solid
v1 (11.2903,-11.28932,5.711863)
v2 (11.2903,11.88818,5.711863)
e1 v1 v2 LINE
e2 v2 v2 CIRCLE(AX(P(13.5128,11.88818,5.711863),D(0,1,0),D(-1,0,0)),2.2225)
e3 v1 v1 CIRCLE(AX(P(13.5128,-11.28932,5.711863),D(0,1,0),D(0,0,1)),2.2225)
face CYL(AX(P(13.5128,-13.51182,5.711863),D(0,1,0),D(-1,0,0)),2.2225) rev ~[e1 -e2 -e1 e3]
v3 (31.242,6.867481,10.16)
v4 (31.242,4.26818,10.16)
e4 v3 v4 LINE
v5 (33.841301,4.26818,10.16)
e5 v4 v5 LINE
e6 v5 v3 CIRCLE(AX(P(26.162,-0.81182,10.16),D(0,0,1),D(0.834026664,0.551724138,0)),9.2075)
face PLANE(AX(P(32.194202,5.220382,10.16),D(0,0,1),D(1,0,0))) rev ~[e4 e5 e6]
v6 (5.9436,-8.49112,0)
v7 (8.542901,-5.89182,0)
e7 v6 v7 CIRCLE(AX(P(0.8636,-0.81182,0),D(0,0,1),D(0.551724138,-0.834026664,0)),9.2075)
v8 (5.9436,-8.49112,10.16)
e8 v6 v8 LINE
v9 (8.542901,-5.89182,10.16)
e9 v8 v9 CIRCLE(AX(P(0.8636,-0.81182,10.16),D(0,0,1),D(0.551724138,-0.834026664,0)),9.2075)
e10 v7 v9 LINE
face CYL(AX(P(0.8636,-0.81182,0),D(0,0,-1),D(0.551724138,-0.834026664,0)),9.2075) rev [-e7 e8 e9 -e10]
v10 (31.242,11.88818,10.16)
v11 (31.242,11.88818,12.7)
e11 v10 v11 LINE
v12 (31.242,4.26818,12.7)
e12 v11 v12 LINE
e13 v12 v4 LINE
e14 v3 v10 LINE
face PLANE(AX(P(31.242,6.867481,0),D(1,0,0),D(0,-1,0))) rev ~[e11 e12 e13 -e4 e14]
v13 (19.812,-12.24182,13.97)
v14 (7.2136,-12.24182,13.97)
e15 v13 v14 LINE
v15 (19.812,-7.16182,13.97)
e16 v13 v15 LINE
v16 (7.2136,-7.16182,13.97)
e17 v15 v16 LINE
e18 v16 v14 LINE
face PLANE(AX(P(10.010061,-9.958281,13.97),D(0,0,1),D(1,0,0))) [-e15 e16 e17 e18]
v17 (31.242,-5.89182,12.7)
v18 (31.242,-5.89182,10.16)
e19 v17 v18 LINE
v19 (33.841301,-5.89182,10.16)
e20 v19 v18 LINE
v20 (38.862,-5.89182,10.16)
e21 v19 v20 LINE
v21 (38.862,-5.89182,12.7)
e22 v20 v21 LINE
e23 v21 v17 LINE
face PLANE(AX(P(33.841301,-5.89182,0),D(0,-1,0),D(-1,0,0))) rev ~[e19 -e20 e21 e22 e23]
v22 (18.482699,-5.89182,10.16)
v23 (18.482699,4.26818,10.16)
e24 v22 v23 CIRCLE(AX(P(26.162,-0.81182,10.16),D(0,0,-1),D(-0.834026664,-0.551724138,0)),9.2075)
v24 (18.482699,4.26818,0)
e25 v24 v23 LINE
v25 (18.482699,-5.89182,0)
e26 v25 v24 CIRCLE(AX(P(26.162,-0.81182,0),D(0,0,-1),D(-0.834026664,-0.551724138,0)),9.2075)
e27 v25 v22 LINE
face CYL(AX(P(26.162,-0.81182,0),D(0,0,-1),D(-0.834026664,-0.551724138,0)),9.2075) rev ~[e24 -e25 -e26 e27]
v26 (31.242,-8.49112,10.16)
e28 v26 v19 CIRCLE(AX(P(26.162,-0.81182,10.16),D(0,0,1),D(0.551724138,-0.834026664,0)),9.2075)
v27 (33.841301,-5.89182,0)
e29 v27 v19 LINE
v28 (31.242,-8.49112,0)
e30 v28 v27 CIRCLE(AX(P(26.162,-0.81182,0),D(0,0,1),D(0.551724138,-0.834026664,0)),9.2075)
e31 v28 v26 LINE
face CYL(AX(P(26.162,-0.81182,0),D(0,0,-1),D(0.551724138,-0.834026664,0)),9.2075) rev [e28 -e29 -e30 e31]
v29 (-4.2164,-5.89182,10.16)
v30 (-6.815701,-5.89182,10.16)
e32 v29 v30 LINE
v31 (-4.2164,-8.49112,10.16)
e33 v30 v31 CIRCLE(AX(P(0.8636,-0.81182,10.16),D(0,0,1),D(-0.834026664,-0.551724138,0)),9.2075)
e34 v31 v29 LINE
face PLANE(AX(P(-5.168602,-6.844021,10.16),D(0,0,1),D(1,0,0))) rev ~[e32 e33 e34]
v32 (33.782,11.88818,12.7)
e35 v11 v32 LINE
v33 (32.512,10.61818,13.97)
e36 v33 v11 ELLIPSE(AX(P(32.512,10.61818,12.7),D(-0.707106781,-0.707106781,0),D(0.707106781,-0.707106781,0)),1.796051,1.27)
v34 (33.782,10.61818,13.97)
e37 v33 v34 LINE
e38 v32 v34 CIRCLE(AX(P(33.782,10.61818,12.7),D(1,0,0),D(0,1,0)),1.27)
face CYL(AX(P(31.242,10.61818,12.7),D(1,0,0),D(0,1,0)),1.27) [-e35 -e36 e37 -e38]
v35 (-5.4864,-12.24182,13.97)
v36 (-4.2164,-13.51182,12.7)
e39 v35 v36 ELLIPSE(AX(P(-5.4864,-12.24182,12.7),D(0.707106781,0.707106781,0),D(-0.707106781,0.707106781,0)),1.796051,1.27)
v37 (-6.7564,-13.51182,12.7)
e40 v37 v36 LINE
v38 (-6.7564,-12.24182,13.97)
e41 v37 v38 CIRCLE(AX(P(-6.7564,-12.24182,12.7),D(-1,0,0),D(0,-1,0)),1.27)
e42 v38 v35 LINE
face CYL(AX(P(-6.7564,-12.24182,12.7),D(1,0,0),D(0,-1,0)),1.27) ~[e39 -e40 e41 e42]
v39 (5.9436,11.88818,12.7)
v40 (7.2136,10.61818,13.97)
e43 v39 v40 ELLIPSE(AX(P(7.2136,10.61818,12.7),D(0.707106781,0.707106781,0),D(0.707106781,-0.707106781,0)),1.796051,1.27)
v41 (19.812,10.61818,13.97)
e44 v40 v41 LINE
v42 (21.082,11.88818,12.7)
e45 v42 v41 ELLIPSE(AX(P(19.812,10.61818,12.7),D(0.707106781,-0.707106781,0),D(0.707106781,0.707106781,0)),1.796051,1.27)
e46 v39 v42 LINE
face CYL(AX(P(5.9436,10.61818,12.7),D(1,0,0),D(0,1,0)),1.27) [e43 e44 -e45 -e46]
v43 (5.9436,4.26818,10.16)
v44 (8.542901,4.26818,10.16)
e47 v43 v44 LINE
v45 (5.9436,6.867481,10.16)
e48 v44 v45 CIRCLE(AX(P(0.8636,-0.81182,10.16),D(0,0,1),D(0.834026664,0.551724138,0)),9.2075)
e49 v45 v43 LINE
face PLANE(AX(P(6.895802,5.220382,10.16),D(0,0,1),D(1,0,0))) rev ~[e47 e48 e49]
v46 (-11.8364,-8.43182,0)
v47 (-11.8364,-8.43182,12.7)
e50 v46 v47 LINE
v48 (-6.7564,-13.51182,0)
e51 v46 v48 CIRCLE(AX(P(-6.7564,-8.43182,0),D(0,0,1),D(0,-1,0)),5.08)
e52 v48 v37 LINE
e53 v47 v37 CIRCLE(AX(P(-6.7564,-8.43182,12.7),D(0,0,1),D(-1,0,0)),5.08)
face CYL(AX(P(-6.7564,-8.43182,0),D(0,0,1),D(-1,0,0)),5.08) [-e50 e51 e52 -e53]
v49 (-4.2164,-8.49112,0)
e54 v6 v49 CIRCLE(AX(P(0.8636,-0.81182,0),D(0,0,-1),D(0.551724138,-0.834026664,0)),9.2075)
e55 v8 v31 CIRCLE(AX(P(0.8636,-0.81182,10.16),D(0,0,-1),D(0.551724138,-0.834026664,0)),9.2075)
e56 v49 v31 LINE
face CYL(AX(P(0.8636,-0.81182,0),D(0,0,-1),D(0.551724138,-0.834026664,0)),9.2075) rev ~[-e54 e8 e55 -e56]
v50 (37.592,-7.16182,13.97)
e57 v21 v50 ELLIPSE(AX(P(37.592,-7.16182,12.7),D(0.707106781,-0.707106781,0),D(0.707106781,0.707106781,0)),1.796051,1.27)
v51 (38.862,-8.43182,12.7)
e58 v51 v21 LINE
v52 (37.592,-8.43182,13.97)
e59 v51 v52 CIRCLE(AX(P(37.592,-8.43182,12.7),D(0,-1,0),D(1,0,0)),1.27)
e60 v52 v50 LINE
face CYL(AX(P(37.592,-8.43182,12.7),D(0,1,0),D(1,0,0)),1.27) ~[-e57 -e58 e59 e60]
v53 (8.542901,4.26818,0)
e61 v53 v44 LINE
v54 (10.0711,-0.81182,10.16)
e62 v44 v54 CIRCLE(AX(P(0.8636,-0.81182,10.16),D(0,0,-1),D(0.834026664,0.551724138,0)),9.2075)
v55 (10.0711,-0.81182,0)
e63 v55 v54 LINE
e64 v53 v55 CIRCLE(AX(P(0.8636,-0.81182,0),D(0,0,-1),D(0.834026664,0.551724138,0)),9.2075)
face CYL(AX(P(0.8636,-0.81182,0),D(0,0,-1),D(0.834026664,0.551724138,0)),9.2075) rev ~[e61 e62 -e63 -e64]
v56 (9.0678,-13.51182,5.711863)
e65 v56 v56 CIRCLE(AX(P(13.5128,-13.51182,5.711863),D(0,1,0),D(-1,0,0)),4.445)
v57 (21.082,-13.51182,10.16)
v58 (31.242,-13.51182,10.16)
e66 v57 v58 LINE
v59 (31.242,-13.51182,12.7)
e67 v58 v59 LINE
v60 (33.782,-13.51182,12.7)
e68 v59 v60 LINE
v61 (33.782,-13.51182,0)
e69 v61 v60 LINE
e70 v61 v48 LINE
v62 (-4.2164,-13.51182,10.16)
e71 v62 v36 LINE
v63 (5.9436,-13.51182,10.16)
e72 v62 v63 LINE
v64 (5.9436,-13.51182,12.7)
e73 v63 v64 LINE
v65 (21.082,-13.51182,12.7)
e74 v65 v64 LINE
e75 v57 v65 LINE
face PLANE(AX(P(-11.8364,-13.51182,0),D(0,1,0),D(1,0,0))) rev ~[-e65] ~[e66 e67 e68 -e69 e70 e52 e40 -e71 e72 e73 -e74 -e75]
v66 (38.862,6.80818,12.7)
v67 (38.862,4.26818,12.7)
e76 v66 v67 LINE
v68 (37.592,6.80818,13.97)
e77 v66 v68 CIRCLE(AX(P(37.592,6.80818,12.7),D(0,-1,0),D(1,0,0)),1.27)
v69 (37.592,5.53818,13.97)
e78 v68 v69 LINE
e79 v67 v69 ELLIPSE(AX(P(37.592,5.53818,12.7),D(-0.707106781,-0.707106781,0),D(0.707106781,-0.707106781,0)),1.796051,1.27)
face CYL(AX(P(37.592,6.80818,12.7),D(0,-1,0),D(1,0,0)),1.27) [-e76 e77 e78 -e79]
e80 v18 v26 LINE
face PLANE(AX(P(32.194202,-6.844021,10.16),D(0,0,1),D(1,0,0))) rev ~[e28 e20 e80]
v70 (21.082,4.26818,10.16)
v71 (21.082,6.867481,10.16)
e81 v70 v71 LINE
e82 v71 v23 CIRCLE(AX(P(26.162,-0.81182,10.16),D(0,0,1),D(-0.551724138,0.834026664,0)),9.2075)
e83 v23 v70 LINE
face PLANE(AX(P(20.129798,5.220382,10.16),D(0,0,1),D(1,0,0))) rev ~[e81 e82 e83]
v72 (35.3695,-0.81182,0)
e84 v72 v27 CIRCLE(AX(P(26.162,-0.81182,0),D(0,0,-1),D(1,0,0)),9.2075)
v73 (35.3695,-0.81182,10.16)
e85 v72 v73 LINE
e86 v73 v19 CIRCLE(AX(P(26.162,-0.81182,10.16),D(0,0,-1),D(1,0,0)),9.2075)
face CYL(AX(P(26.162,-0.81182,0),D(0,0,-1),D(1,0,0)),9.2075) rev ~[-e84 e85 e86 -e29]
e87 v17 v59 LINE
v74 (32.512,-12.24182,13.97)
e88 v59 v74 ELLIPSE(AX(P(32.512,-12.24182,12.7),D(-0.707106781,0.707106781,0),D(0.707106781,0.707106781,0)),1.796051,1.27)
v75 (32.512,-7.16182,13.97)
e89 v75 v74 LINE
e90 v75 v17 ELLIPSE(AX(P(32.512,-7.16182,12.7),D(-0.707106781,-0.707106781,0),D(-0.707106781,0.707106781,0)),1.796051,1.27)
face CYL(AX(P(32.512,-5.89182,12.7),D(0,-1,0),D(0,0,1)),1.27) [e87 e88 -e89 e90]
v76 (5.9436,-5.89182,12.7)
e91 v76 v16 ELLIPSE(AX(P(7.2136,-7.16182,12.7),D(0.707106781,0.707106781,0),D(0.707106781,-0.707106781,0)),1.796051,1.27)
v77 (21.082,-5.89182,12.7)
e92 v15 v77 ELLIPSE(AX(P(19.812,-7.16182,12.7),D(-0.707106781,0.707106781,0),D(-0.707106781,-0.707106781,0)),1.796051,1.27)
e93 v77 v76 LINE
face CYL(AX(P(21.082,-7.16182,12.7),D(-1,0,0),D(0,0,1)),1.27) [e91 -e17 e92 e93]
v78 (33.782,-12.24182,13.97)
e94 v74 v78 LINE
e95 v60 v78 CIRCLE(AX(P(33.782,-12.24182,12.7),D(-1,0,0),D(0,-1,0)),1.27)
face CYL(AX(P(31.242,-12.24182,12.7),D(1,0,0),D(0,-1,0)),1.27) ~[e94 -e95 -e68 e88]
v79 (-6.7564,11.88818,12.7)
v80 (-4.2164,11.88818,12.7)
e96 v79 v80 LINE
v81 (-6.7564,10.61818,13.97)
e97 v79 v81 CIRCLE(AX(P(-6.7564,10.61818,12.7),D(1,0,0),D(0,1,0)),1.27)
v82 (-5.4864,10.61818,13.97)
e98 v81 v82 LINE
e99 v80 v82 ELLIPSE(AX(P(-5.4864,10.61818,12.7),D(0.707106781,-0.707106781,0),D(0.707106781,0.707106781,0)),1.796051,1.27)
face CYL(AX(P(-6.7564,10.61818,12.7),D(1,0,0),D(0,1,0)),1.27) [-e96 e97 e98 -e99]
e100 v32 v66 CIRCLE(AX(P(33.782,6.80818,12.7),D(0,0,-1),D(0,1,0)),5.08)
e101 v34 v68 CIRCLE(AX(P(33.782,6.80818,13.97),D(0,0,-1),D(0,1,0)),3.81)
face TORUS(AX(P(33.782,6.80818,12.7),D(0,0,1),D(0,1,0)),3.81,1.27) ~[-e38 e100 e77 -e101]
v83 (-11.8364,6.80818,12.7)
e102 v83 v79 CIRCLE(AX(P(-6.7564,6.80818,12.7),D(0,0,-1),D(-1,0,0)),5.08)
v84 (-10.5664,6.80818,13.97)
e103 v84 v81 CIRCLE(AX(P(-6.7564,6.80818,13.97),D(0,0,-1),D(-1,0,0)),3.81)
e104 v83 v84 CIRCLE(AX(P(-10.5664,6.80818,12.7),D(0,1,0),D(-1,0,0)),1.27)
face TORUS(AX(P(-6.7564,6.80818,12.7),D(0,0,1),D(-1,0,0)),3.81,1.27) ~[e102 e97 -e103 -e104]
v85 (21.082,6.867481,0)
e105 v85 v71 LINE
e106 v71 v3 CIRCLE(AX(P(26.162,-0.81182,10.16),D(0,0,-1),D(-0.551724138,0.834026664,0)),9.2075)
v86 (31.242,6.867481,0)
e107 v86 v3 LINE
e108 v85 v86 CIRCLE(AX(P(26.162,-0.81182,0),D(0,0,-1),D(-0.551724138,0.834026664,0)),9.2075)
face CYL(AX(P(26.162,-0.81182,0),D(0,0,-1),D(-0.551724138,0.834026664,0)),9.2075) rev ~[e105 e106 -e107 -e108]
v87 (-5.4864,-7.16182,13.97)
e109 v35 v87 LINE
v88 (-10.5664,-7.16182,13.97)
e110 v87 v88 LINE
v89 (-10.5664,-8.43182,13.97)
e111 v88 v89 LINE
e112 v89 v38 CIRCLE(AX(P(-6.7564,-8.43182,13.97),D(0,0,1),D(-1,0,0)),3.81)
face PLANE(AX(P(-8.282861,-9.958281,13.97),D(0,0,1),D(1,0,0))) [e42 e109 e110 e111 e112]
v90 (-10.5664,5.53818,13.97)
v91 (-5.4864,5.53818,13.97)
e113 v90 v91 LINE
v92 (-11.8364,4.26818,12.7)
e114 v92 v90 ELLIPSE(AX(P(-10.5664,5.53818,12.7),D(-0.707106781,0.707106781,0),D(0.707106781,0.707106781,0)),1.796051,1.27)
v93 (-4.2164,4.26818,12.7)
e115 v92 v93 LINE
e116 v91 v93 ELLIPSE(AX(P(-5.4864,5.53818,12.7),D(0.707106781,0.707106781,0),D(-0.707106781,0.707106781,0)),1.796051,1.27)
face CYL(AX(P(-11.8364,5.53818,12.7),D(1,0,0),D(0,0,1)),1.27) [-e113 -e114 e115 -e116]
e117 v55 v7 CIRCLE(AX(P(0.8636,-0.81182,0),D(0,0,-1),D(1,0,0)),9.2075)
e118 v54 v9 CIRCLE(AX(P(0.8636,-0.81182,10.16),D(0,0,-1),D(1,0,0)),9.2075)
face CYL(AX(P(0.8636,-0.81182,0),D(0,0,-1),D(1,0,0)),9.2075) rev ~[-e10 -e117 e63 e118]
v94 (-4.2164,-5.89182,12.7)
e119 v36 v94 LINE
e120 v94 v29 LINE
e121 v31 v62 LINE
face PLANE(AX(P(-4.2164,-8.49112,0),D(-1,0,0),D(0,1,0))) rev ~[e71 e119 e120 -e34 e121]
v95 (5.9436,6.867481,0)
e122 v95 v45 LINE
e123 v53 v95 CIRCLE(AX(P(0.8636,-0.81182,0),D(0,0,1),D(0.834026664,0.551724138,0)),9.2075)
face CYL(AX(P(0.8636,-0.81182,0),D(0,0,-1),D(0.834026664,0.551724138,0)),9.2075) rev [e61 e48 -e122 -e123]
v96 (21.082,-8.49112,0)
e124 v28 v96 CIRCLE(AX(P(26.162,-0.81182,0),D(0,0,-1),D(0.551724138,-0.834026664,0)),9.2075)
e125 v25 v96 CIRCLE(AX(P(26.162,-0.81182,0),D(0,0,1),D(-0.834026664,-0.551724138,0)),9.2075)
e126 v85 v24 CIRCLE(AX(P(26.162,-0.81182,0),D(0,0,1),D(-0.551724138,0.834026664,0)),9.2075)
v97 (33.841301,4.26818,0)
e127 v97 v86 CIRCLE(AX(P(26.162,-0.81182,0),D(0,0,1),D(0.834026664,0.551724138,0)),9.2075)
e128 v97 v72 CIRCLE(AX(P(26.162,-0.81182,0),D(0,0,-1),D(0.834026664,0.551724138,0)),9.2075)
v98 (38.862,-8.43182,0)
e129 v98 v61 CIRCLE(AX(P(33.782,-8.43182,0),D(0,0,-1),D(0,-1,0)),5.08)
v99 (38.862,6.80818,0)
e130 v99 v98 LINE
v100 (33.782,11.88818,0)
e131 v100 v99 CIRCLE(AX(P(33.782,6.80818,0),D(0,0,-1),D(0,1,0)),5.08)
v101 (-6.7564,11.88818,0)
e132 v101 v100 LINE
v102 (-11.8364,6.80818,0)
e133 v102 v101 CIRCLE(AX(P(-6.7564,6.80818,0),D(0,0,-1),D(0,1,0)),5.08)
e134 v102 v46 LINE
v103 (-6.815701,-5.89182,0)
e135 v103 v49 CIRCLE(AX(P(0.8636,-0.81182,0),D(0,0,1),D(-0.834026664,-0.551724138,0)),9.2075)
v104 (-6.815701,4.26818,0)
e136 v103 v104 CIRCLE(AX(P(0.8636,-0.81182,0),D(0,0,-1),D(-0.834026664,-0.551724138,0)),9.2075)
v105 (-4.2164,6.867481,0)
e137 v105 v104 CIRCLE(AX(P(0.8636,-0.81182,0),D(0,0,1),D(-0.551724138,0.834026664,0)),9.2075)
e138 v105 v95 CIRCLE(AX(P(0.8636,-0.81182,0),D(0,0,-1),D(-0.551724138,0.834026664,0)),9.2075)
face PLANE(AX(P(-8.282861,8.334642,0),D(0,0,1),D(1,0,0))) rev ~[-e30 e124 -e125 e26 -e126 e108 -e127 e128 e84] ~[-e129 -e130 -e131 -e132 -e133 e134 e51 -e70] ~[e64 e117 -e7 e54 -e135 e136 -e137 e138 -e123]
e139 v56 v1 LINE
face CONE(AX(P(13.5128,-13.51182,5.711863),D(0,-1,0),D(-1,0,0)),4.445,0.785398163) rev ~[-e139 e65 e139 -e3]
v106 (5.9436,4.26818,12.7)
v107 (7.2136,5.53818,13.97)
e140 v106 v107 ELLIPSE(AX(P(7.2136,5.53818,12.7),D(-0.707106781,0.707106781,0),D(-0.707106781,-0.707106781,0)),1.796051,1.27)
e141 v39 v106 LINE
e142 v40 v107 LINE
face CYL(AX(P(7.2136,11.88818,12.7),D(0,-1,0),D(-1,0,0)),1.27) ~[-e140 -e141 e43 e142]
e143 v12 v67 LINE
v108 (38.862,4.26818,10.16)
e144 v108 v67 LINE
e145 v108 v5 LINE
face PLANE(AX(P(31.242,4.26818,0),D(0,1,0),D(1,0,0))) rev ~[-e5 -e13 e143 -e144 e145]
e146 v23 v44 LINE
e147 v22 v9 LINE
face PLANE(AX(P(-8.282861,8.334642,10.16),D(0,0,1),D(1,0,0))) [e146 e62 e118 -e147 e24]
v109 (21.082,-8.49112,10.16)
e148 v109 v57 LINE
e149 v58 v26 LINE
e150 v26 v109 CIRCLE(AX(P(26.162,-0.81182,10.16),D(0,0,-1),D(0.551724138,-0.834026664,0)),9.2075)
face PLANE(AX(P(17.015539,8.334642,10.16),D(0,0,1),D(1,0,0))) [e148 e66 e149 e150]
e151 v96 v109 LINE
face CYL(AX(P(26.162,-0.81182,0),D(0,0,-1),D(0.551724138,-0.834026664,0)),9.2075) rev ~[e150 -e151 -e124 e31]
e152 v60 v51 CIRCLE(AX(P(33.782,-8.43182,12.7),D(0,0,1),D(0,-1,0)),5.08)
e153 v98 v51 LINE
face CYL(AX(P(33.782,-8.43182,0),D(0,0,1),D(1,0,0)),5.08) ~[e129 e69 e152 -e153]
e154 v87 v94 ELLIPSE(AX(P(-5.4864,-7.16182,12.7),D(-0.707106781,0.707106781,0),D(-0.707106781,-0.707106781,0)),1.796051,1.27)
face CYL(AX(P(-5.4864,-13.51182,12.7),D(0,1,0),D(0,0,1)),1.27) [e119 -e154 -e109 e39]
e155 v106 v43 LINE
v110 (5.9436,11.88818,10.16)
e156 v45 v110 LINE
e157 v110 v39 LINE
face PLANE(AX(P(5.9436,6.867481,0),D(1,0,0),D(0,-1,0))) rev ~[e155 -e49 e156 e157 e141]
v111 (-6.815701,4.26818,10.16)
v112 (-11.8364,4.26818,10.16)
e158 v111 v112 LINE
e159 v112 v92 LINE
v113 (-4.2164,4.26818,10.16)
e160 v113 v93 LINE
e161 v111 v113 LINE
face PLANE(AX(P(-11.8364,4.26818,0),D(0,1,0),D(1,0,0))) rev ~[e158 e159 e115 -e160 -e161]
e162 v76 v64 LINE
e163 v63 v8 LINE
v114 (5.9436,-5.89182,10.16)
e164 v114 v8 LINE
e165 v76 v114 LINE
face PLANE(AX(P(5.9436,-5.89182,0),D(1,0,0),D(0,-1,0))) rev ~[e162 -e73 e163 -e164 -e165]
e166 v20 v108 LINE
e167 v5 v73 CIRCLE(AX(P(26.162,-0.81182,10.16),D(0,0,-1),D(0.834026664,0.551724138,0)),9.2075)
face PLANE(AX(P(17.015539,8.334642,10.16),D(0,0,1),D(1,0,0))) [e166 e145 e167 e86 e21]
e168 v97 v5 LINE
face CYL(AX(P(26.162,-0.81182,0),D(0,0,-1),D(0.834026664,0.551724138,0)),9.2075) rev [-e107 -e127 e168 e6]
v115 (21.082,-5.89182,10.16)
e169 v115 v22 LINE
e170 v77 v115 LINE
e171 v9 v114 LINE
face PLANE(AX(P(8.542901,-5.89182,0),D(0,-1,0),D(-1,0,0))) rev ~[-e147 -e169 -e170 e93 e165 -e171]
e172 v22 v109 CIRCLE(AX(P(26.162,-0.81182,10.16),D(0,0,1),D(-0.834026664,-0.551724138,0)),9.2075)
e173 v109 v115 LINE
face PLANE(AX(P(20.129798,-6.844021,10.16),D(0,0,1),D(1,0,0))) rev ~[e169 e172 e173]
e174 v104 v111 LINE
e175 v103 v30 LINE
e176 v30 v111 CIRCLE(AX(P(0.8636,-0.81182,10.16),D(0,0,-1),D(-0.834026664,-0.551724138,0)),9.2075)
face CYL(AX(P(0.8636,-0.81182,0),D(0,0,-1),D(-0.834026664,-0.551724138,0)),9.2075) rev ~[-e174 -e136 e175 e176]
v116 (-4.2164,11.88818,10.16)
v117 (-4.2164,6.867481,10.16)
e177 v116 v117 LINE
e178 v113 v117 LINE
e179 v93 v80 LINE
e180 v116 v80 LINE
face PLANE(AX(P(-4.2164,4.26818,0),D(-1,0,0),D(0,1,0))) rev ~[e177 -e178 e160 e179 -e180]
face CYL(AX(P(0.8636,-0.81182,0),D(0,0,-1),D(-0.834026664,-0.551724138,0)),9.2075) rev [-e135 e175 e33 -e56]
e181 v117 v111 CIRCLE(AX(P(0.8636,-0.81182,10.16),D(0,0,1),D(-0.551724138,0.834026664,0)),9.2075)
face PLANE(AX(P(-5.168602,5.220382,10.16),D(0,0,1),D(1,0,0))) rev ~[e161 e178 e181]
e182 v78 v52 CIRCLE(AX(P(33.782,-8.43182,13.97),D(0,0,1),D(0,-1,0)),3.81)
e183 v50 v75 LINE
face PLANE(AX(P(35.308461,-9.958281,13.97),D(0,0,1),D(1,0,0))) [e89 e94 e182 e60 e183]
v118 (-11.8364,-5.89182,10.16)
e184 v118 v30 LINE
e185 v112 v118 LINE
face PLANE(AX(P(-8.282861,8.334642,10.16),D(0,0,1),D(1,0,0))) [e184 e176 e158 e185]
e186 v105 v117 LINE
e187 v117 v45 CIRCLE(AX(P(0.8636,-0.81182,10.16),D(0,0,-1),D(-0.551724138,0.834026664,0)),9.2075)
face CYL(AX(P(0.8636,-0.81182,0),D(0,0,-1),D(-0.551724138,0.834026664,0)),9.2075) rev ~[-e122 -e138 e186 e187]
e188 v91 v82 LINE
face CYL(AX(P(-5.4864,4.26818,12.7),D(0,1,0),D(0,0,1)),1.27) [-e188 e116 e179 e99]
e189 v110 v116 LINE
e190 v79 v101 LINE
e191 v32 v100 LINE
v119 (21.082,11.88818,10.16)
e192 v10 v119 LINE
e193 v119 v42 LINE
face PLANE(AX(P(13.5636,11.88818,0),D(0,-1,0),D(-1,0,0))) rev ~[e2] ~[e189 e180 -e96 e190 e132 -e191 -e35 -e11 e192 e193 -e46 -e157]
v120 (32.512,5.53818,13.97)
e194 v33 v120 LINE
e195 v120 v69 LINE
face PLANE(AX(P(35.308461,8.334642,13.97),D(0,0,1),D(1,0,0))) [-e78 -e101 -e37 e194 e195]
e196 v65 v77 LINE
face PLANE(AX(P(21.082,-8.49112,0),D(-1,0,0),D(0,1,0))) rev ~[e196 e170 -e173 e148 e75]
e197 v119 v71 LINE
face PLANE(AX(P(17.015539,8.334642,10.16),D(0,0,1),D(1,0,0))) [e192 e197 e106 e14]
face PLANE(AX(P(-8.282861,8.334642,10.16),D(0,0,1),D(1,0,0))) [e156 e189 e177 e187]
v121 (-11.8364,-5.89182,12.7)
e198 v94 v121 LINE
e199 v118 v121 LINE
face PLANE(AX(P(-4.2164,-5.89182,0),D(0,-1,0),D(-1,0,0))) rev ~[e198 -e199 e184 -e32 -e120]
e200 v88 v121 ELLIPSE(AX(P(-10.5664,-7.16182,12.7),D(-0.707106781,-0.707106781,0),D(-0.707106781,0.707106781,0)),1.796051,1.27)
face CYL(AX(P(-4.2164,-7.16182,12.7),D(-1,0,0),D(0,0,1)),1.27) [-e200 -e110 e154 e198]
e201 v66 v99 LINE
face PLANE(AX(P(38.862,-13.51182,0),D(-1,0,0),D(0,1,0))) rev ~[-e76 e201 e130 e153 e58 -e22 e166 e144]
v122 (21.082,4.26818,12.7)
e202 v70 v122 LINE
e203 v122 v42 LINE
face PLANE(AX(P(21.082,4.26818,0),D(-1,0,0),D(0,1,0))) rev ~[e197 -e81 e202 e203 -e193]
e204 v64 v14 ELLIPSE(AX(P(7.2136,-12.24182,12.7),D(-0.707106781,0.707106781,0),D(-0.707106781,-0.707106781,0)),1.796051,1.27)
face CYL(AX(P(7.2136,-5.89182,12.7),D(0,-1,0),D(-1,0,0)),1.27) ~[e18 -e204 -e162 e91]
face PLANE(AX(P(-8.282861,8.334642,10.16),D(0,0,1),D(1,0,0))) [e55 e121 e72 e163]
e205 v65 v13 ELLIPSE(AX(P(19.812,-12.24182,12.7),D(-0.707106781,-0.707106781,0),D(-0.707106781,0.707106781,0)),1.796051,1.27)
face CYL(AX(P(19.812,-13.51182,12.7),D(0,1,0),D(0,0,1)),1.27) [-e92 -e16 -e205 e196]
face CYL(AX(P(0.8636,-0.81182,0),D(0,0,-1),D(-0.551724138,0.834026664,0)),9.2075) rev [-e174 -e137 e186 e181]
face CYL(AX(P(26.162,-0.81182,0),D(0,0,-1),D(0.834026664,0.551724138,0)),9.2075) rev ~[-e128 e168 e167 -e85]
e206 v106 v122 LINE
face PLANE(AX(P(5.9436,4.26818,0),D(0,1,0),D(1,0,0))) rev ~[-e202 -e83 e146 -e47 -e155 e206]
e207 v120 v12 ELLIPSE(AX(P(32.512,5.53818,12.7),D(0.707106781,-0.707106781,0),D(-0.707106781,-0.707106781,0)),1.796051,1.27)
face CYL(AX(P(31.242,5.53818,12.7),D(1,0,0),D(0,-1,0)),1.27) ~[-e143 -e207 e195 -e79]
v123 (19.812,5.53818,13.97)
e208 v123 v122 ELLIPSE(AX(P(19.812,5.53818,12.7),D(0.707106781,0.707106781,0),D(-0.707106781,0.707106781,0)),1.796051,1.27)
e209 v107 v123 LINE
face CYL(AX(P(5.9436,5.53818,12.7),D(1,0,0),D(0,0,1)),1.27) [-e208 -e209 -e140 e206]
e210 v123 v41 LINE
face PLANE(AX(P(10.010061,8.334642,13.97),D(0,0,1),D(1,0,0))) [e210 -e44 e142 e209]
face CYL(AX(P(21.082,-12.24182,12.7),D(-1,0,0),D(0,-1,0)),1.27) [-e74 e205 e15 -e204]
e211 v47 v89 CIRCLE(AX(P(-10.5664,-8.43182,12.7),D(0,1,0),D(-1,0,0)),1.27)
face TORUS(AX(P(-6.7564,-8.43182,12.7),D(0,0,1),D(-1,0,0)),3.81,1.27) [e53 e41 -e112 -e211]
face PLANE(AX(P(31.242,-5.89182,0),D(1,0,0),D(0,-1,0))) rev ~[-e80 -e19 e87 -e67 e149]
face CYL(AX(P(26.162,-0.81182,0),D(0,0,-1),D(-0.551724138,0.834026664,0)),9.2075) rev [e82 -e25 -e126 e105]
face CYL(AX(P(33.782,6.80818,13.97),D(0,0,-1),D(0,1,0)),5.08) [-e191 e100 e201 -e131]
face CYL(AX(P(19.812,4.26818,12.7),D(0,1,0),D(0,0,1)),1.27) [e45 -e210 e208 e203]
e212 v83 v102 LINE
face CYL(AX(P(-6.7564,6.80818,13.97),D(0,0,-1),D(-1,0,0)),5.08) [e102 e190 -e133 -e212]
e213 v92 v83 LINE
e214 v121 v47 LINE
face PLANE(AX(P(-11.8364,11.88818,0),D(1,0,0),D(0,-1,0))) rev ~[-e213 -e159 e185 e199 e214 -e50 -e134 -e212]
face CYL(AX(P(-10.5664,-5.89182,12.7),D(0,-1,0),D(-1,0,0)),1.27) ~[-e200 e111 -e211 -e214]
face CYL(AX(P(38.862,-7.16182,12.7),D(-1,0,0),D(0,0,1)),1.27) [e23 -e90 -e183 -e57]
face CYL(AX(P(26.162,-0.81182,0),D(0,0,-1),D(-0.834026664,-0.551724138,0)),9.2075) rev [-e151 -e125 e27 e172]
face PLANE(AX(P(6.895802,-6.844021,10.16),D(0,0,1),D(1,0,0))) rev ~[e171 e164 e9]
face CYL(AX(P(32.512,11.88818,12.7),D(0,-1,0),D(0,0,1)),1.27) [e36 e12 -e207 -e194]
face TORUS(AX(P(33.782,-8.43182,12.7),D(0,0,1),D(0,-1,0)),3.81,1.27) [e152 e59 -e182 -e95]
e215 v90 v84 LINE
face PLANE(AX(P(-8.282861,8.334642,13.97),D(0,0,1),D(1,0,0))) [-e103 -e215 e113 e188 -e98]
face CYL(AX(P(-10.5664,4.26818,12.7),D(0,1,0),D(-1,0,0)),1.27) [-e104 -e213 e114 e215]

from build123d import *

# Parameters (mm, degrees)
F1_DEPTH        = 10.16
F2_DEPTH        = 13.97
F3_DEPTH        = 10.16
F8_R            = 5.08
F9_R            = 1.27
F11_D           = 4.445
F11_CSINK_D     = 8.89
F11_CSINK_ANGLE = 90


with BuildPart() as f1:
    # F0 (on Top) → F1 (new body)
    with BuildSketch(Plane.XY):
        with BuildLine():
            Line((-4.2164, 11.888180349), (-11.8364, 11.888180349))
            Line((-11.8364, 11.888180349), (-11.8364, 4.268180349))
            Line((-11.8364, 4.268180349), (-6.8157005053, 4.268180349))
            ThreePointArc((-6.8157005053, 4.268180349), (-5.6470856878, 5.6988660368), (-4.2164, 6.8674808543))
            Line((-4.2164, 6.8674808543), (-4.2164, 11.888180349))
        make_face()
        with BuildLine():
            Line((-4.2164, 4.268180349), (-4.2164, 6.8674808543))
            ThreePointArc((-4.2164, 6.8674808543), (-5.6470856878, 5.6988660368), (-6.8157005053, 4.268180349))
            Line((-6.8157005053, 4.268180349), (-4.2164, 4.268180349))
        make_face()
        with BuildLine():
            Line((13.5636, 11.888180349), (5.9436, 11.888180349))
            Line((5.9436, 11.888180349), (5.9436, 6.8674808543))
            ThreePointArc((5.9436, 6.8674808543), (7.3742856878, 5.6988660368), (8.5429005053, 4.268180349))
            Line((8.5429005053, 4.268180349), (13.5636, 4.268180349))
            Line((13.5636, 4.268180349), (13.5636, 11.888180349))
        make_face()
        with BuildLine():
            Line((13.5636, -13.511819651), (13.5636, -5.891819651))
            Line((13.5636, -5.891819651), (8.5429005053, -5.891819651))
            ThreePointArc((8.5429005053, -5.891819651), (7.3742856878, -7.3225053388), (5.9436, -8.4911201562))
            Line((5.9436, -8.4911201562), (5.9436, -13.511819651))
            Line((5.9436, -13.511819651), (13.5636, -13.511819651))
        make_face()
        with BuildLine():
            Line((-4.2164, -8.4911201562), (-4.2164, -13.511819651))
            Line((-4.2164, -13.511819651), (5.9436, -13.511819651))
            Line((5.9436, -13.511819651), (5.9436, -8.4911201562))
            ThreePointArc((5.9436, -8.4911201562), (0.8636, -10.019319651), (-4.2164, -8.4911201562))
        make_face()
        with BuildLine():
            Line((-6.8157005053, -5.891819651), (-11.8364, -5.891819651))
            Line((-11.8364, -5.891819651), (-11.8364, -13.511819651))
            Line((-11.8364, -13.511819651), (-4.2164, -13.511819651))
            Line((-4.2164, -13.511819651), (-4.2164, -8.4911201562))
            ThreePointArc((-4.2164, -8.4911201562), (-5.6470856878, -7.3225053388), (-6.8157005053, -5.891819651))
        make_face()
        with BuildLine():
            Line((-6.8157005053, 4.268180349), (-11.8364, 4.268180349))
            Line((-11.8364, 4.268180349), (-11.8364, -5.891819651))
            Line((-11.8364, -5.891819651), (-6.8157005053, -5.891819651))
            ThreePointArc((-6.8157005053, -5.891819651), (-8.3439, -0.811819651), (-6.8157005053, 4.268180349))
        make_face()
        with BuildLine():
            Line((13.5636, -5.891819651), (13.5636, 4.268180349))
            Line((13.5636, 4.268180349), (8.5429005053, 4.268180349))
            ThreePointArc((8.5429005053, 4.268180349), (9.6807768626, 1.8406223227), (10.0711, -0.811819651))
            ThreePointArc((10.0711, -0.811819651), (9.6807768626, -3.4642616247), (8.5429005053, -5.891819651))
            Line((8.5429005053, -5.891819651), (13.5636, -5.891819651))
        make_face()
        with BuildLine():
            Line((5.9436, 11.888180349), (-4.2164, 11.888180349))
            Line((-4.2164, 11.888180349), (-4.2164, 6.8674808543))
            ThreePointArc((-4.2164, 6.8674808543), (0.8636, 8.395680349), (5.9436, 6.8674808543))
            Line((5.9436, 6.8674808543), (5.9436, 11.888180349))
        make_face()
        with BuildLine():
            ThreePointArc((8.5429005053, 4.268180349), (7.3742856878, 5.6988660368), (5.9436, 6.8674808543))
            Line((5.9436, 6.8674808543), (5.9436, 4.268180349))
            Line((5.9436, 4.268180349), (8.5429005053, 4.268180349))
        make_face()
        with BuildLine():
            Line((5.9436, -5.891819651), (5.9436, -8.4911201562))
            ThreePointArc((5.9436, -8.4911201562), (7.3742856878, -7.3225053388), (8.5429005053, -5.891819651))
            Line((8.5429005053, -5.891819651), (5.9436, -5.891819651))
        make_face()
        with BuildLine():
            Line((-4.2164, -5.891819651), (-6.8157005053, -5.891819651))
            ThreePointArc((-6.8157005053, -5.891819651), (-5.6470856878, -7.3225053388), (-4.2164, -8.4911201562))
            Line((-4.2164, -8.4911201562), (-4.2164, -5.891819651))
        make_face()
    extrude(amount=F1_DEPTH)

    # F0 (on Top) → F2 (join)
    with BuildSketch(Plane.XY):
        with BuildLine():
            Line((-6.8157005053, -5.891819651), (-11.8364, -5.891819651))
            Line((-11.8364, -5.891819651), (-11.8364, -13.511819651))
            Line((-11.8364, -13.511819651), (-4.2164, -13.511819651))
            Line((-4.2164, -13.511819651), (-4.2164, -8.4911201562))
            ThreePointArc((-4.2164, -8.4911201562), (-5.6470856878, -7.3225053388), (-6.8157005053, -5.891819651))
        make_face()
        with BuildLine():
            Line((-4.2164, -5.891819651), (-6.8157005053, -5.891819651))
            ThreePointArc((-6.8157005053, -5.891819651), (-5.6470856878, -7.3225053388), (-4.2164, -8.4911201562))
            Line((-4.2164, -8.4911201562), (-4.2164, -5.891819651))
        make_face()
        with BuildLine():
            Line((13.5636, -13.511819651), (13.5636, -5.891819651))
            Line((13.5636, -5.891819651), (8.5429005053, -5.891819651))
            ThreePointArc((8.5429005053, -5.891819651), (7.3742856878, -7.3225053388), (5.9436, -8.4911201562))
            Line((5.9436, -8.4911201562), (5.9436, -13.511819651))
            Line((5.9436, -13.511819651), (13.5636, -13.511819651))
        make_face()
        with BuildLine():
            Line((5.9436, -5.891819651), (5.9436, -8.4911201562))
            ThreePointArc((5.9436, -8.4911201562), (7.3742856878, -7.3225053388), (8.5429005053, -5.891819651))
            Line((8.5429005053, -5.891819651), (5.9436, -5.891819651))
        make_face()
        with BuildLine():
            Line((13.5636, 11.888180349), (5.9436, 11.888180349))
            Line((5.9436, 11.888180349), (5.9436, 6.8674808543))
            ThreePointArc((5.9436, 6.8674808543), (7.3742856878, 5.6988660368), (8.5429005053, 4.268180349))
            Line((8.5429005053, 4.268180349), (13.5636, 4.268180349))
            Line((13.5636, 4.268180349), (13.5636, 11.888180349))
        make_face()
        with BuildLine():
            ThreePointArc((8.5429005053, 4.268180349), (7.3742856878, 5.6988660368), (5.9436, 6.8674808543))
            Line((5.9436, 6.8674808543), (5.9436, 4.268180349))
            Line((5.9436, 4.268180349), (8.5429005053, 4.268180349))
        make_face()
        with BuildLine():
            Line((-4.2164, 11.888180349), (-11.8364, 11.888180349))
            Line((-11.8364, 11.888180349), (-11.8364, 4.268180349))
            Line((-11.8364, 4.268180349), (-6.8157005053, 4.268180349))
            ThreePointArc((-6.8157005053, 4.268180349), (-5.6470856878, 5.6988660368), (-4.2164, 6.8674808543))
            Line((-4.2164, 6.8674808543), (-4.2164, 11.888180349))
        make_face()
        with BuildLine():
            Line((-4.2164, 4.268180349), (-4.2164, 6.8674808543))
            ThreePointArc((-4.2164, 6.8674808543), (-5.6470856878, 5.6988660368), (-6.8157005053, 4.268180349))
            Line((-6.8157005053, 4.268180349), (-4.2164, 4.268180349))
        make_face()
    extrude(amount=F2_DEPTH)

    # F0 (on Top) → F3 (cut)
    with BuildSketch(Plane.XY):
        with BuildLine():
            Line((-4.2164, 4.268180349), (-4.2164, 6.8674808543))
            ThreePointArc((-4.2164, 6.8674808543), (-5.6470856878, 5.6988660368), (-6.8157005053, 4.268180349))
            Line((-6.8157005053, 4.268180349), (-4.2164, 4.268180349))
        make_face()
        with BuildLine():
            Line((-4.2164, -5.891819651), (-6.8157005053, -5.891819651))
            ThreePointArc((-6.8157005053, -5.891819651), (-5.6470856878, -7.3225053388), (-4.2164, -8.4911201562))
            Line((-4.2164, -8.4911201562), (-4.2164, -5.891819651))
        make_face()
        with BuildLine():
            Line((5.9436, -5.891819651), (5.9436, -8.4911201562))
            ThreePointArc((5.9436, -8.4911201562), (7.3742856878, -7.3225053388), (8.5429005053, -5.891819651))
            Line((8.5429005053, -5.891819651), (5.9436, -5.891819651))
        make_face()
        with BuildLine():
            ThreePointArc((8.5429005053, 4.268180349), (7.3742856878, 5.6988660368), (5.9436, 6.8674808543))
            Line((5.9436, 6.8674808543), (5.9436, 4.268180349))
            Line((5.9436, 4.268180349), (8.5429005053, 4.268180349))
        make_face()
    extrude(amount=F3_DEPTH, mode=Mode.SUBTRACT)


with BuildPart() as f4_1:
    # F4: copy of F1
    add(f1.part.moved(Location((25.654, 0, 0))))


with BuildPart() as f6_1:
    # F6: copy of F1
    add(f1.part.moved(Location((25.2984, 0, 0))))


with BuildPart() as f1_1:
    add(f1.part)

    # F7: union F6_1
    add(f6_1.part)

    # F8
    f8_edges = [f1_1.edges().sort_by_distance(p)[0] for p in [
        (-11.8364, 11.88818, 6.985),
        (38.862, 11.88818, 6.985),
        (38.862, -13.51182, 6.985),
        (-11.8364, -13.51182, 6.985),
    ]]
    fillet(f8_edges, radius=F8_R)

    # F9
    f9_edges = [f1_1.edges().sort_by_distance(p)[0] for p in [
        (-10.348502, 10.400283, 13.97),
        (-4.2164, 8.07818, 13.97),
        (-8.0264, 4.26818, 13.97),
        (-8.0264, -5.89182, 13.97),
        (-4.2164, -9.70182, 13.97),
        (-10.348502, -12.023922, 13.97),
        (5.9436, -9.70182, 13.97),
        (9.7028, -5.89182, 13.97),
        (13.5128, -5.89182, 13.97),
        (9.7028, -13.51182, 13.97),
        (13.5128, -13.51182, 13.97),
        (32.512, -13.51182, 13.97),
        (21.082, -9.70182, 13.97),
        (13.5128, 11.88818, 13.97),
        (9.7028, 11.88818, 13.97),
        (17.3228, 11.88818, 13.97),
        (5.9436, 8.07818, 13.97),
        (21.082, 8.07818, 13.97),
        (13.5128, 4.26818, 13.97),
        (9.7028, 4.26818, 13.97),
        (31.242, 8.07818, 13.97),
        (35.052, 4.26818, 13.97),
        (35.052, -5.89182, 13.97),
        (31.242, -9.70182, 13.97),
        (37.374102, 10.400283, 13.97),
        (37.374102, -12.023922, 13.97),
    ]]
    fillet(f9_edges, radius=F9_R)

    # F11 (through all)
    with Locations(Plane.XZ.offset(13.511819651)):
        with Locations((13.5128, 5.7118628174)):
            CounterSinkHole(F11_D / 2, F11_CSINK_D / 2, counter_sink_angle=F11_CSINK_ANGLE)


solid = f1_1.part
